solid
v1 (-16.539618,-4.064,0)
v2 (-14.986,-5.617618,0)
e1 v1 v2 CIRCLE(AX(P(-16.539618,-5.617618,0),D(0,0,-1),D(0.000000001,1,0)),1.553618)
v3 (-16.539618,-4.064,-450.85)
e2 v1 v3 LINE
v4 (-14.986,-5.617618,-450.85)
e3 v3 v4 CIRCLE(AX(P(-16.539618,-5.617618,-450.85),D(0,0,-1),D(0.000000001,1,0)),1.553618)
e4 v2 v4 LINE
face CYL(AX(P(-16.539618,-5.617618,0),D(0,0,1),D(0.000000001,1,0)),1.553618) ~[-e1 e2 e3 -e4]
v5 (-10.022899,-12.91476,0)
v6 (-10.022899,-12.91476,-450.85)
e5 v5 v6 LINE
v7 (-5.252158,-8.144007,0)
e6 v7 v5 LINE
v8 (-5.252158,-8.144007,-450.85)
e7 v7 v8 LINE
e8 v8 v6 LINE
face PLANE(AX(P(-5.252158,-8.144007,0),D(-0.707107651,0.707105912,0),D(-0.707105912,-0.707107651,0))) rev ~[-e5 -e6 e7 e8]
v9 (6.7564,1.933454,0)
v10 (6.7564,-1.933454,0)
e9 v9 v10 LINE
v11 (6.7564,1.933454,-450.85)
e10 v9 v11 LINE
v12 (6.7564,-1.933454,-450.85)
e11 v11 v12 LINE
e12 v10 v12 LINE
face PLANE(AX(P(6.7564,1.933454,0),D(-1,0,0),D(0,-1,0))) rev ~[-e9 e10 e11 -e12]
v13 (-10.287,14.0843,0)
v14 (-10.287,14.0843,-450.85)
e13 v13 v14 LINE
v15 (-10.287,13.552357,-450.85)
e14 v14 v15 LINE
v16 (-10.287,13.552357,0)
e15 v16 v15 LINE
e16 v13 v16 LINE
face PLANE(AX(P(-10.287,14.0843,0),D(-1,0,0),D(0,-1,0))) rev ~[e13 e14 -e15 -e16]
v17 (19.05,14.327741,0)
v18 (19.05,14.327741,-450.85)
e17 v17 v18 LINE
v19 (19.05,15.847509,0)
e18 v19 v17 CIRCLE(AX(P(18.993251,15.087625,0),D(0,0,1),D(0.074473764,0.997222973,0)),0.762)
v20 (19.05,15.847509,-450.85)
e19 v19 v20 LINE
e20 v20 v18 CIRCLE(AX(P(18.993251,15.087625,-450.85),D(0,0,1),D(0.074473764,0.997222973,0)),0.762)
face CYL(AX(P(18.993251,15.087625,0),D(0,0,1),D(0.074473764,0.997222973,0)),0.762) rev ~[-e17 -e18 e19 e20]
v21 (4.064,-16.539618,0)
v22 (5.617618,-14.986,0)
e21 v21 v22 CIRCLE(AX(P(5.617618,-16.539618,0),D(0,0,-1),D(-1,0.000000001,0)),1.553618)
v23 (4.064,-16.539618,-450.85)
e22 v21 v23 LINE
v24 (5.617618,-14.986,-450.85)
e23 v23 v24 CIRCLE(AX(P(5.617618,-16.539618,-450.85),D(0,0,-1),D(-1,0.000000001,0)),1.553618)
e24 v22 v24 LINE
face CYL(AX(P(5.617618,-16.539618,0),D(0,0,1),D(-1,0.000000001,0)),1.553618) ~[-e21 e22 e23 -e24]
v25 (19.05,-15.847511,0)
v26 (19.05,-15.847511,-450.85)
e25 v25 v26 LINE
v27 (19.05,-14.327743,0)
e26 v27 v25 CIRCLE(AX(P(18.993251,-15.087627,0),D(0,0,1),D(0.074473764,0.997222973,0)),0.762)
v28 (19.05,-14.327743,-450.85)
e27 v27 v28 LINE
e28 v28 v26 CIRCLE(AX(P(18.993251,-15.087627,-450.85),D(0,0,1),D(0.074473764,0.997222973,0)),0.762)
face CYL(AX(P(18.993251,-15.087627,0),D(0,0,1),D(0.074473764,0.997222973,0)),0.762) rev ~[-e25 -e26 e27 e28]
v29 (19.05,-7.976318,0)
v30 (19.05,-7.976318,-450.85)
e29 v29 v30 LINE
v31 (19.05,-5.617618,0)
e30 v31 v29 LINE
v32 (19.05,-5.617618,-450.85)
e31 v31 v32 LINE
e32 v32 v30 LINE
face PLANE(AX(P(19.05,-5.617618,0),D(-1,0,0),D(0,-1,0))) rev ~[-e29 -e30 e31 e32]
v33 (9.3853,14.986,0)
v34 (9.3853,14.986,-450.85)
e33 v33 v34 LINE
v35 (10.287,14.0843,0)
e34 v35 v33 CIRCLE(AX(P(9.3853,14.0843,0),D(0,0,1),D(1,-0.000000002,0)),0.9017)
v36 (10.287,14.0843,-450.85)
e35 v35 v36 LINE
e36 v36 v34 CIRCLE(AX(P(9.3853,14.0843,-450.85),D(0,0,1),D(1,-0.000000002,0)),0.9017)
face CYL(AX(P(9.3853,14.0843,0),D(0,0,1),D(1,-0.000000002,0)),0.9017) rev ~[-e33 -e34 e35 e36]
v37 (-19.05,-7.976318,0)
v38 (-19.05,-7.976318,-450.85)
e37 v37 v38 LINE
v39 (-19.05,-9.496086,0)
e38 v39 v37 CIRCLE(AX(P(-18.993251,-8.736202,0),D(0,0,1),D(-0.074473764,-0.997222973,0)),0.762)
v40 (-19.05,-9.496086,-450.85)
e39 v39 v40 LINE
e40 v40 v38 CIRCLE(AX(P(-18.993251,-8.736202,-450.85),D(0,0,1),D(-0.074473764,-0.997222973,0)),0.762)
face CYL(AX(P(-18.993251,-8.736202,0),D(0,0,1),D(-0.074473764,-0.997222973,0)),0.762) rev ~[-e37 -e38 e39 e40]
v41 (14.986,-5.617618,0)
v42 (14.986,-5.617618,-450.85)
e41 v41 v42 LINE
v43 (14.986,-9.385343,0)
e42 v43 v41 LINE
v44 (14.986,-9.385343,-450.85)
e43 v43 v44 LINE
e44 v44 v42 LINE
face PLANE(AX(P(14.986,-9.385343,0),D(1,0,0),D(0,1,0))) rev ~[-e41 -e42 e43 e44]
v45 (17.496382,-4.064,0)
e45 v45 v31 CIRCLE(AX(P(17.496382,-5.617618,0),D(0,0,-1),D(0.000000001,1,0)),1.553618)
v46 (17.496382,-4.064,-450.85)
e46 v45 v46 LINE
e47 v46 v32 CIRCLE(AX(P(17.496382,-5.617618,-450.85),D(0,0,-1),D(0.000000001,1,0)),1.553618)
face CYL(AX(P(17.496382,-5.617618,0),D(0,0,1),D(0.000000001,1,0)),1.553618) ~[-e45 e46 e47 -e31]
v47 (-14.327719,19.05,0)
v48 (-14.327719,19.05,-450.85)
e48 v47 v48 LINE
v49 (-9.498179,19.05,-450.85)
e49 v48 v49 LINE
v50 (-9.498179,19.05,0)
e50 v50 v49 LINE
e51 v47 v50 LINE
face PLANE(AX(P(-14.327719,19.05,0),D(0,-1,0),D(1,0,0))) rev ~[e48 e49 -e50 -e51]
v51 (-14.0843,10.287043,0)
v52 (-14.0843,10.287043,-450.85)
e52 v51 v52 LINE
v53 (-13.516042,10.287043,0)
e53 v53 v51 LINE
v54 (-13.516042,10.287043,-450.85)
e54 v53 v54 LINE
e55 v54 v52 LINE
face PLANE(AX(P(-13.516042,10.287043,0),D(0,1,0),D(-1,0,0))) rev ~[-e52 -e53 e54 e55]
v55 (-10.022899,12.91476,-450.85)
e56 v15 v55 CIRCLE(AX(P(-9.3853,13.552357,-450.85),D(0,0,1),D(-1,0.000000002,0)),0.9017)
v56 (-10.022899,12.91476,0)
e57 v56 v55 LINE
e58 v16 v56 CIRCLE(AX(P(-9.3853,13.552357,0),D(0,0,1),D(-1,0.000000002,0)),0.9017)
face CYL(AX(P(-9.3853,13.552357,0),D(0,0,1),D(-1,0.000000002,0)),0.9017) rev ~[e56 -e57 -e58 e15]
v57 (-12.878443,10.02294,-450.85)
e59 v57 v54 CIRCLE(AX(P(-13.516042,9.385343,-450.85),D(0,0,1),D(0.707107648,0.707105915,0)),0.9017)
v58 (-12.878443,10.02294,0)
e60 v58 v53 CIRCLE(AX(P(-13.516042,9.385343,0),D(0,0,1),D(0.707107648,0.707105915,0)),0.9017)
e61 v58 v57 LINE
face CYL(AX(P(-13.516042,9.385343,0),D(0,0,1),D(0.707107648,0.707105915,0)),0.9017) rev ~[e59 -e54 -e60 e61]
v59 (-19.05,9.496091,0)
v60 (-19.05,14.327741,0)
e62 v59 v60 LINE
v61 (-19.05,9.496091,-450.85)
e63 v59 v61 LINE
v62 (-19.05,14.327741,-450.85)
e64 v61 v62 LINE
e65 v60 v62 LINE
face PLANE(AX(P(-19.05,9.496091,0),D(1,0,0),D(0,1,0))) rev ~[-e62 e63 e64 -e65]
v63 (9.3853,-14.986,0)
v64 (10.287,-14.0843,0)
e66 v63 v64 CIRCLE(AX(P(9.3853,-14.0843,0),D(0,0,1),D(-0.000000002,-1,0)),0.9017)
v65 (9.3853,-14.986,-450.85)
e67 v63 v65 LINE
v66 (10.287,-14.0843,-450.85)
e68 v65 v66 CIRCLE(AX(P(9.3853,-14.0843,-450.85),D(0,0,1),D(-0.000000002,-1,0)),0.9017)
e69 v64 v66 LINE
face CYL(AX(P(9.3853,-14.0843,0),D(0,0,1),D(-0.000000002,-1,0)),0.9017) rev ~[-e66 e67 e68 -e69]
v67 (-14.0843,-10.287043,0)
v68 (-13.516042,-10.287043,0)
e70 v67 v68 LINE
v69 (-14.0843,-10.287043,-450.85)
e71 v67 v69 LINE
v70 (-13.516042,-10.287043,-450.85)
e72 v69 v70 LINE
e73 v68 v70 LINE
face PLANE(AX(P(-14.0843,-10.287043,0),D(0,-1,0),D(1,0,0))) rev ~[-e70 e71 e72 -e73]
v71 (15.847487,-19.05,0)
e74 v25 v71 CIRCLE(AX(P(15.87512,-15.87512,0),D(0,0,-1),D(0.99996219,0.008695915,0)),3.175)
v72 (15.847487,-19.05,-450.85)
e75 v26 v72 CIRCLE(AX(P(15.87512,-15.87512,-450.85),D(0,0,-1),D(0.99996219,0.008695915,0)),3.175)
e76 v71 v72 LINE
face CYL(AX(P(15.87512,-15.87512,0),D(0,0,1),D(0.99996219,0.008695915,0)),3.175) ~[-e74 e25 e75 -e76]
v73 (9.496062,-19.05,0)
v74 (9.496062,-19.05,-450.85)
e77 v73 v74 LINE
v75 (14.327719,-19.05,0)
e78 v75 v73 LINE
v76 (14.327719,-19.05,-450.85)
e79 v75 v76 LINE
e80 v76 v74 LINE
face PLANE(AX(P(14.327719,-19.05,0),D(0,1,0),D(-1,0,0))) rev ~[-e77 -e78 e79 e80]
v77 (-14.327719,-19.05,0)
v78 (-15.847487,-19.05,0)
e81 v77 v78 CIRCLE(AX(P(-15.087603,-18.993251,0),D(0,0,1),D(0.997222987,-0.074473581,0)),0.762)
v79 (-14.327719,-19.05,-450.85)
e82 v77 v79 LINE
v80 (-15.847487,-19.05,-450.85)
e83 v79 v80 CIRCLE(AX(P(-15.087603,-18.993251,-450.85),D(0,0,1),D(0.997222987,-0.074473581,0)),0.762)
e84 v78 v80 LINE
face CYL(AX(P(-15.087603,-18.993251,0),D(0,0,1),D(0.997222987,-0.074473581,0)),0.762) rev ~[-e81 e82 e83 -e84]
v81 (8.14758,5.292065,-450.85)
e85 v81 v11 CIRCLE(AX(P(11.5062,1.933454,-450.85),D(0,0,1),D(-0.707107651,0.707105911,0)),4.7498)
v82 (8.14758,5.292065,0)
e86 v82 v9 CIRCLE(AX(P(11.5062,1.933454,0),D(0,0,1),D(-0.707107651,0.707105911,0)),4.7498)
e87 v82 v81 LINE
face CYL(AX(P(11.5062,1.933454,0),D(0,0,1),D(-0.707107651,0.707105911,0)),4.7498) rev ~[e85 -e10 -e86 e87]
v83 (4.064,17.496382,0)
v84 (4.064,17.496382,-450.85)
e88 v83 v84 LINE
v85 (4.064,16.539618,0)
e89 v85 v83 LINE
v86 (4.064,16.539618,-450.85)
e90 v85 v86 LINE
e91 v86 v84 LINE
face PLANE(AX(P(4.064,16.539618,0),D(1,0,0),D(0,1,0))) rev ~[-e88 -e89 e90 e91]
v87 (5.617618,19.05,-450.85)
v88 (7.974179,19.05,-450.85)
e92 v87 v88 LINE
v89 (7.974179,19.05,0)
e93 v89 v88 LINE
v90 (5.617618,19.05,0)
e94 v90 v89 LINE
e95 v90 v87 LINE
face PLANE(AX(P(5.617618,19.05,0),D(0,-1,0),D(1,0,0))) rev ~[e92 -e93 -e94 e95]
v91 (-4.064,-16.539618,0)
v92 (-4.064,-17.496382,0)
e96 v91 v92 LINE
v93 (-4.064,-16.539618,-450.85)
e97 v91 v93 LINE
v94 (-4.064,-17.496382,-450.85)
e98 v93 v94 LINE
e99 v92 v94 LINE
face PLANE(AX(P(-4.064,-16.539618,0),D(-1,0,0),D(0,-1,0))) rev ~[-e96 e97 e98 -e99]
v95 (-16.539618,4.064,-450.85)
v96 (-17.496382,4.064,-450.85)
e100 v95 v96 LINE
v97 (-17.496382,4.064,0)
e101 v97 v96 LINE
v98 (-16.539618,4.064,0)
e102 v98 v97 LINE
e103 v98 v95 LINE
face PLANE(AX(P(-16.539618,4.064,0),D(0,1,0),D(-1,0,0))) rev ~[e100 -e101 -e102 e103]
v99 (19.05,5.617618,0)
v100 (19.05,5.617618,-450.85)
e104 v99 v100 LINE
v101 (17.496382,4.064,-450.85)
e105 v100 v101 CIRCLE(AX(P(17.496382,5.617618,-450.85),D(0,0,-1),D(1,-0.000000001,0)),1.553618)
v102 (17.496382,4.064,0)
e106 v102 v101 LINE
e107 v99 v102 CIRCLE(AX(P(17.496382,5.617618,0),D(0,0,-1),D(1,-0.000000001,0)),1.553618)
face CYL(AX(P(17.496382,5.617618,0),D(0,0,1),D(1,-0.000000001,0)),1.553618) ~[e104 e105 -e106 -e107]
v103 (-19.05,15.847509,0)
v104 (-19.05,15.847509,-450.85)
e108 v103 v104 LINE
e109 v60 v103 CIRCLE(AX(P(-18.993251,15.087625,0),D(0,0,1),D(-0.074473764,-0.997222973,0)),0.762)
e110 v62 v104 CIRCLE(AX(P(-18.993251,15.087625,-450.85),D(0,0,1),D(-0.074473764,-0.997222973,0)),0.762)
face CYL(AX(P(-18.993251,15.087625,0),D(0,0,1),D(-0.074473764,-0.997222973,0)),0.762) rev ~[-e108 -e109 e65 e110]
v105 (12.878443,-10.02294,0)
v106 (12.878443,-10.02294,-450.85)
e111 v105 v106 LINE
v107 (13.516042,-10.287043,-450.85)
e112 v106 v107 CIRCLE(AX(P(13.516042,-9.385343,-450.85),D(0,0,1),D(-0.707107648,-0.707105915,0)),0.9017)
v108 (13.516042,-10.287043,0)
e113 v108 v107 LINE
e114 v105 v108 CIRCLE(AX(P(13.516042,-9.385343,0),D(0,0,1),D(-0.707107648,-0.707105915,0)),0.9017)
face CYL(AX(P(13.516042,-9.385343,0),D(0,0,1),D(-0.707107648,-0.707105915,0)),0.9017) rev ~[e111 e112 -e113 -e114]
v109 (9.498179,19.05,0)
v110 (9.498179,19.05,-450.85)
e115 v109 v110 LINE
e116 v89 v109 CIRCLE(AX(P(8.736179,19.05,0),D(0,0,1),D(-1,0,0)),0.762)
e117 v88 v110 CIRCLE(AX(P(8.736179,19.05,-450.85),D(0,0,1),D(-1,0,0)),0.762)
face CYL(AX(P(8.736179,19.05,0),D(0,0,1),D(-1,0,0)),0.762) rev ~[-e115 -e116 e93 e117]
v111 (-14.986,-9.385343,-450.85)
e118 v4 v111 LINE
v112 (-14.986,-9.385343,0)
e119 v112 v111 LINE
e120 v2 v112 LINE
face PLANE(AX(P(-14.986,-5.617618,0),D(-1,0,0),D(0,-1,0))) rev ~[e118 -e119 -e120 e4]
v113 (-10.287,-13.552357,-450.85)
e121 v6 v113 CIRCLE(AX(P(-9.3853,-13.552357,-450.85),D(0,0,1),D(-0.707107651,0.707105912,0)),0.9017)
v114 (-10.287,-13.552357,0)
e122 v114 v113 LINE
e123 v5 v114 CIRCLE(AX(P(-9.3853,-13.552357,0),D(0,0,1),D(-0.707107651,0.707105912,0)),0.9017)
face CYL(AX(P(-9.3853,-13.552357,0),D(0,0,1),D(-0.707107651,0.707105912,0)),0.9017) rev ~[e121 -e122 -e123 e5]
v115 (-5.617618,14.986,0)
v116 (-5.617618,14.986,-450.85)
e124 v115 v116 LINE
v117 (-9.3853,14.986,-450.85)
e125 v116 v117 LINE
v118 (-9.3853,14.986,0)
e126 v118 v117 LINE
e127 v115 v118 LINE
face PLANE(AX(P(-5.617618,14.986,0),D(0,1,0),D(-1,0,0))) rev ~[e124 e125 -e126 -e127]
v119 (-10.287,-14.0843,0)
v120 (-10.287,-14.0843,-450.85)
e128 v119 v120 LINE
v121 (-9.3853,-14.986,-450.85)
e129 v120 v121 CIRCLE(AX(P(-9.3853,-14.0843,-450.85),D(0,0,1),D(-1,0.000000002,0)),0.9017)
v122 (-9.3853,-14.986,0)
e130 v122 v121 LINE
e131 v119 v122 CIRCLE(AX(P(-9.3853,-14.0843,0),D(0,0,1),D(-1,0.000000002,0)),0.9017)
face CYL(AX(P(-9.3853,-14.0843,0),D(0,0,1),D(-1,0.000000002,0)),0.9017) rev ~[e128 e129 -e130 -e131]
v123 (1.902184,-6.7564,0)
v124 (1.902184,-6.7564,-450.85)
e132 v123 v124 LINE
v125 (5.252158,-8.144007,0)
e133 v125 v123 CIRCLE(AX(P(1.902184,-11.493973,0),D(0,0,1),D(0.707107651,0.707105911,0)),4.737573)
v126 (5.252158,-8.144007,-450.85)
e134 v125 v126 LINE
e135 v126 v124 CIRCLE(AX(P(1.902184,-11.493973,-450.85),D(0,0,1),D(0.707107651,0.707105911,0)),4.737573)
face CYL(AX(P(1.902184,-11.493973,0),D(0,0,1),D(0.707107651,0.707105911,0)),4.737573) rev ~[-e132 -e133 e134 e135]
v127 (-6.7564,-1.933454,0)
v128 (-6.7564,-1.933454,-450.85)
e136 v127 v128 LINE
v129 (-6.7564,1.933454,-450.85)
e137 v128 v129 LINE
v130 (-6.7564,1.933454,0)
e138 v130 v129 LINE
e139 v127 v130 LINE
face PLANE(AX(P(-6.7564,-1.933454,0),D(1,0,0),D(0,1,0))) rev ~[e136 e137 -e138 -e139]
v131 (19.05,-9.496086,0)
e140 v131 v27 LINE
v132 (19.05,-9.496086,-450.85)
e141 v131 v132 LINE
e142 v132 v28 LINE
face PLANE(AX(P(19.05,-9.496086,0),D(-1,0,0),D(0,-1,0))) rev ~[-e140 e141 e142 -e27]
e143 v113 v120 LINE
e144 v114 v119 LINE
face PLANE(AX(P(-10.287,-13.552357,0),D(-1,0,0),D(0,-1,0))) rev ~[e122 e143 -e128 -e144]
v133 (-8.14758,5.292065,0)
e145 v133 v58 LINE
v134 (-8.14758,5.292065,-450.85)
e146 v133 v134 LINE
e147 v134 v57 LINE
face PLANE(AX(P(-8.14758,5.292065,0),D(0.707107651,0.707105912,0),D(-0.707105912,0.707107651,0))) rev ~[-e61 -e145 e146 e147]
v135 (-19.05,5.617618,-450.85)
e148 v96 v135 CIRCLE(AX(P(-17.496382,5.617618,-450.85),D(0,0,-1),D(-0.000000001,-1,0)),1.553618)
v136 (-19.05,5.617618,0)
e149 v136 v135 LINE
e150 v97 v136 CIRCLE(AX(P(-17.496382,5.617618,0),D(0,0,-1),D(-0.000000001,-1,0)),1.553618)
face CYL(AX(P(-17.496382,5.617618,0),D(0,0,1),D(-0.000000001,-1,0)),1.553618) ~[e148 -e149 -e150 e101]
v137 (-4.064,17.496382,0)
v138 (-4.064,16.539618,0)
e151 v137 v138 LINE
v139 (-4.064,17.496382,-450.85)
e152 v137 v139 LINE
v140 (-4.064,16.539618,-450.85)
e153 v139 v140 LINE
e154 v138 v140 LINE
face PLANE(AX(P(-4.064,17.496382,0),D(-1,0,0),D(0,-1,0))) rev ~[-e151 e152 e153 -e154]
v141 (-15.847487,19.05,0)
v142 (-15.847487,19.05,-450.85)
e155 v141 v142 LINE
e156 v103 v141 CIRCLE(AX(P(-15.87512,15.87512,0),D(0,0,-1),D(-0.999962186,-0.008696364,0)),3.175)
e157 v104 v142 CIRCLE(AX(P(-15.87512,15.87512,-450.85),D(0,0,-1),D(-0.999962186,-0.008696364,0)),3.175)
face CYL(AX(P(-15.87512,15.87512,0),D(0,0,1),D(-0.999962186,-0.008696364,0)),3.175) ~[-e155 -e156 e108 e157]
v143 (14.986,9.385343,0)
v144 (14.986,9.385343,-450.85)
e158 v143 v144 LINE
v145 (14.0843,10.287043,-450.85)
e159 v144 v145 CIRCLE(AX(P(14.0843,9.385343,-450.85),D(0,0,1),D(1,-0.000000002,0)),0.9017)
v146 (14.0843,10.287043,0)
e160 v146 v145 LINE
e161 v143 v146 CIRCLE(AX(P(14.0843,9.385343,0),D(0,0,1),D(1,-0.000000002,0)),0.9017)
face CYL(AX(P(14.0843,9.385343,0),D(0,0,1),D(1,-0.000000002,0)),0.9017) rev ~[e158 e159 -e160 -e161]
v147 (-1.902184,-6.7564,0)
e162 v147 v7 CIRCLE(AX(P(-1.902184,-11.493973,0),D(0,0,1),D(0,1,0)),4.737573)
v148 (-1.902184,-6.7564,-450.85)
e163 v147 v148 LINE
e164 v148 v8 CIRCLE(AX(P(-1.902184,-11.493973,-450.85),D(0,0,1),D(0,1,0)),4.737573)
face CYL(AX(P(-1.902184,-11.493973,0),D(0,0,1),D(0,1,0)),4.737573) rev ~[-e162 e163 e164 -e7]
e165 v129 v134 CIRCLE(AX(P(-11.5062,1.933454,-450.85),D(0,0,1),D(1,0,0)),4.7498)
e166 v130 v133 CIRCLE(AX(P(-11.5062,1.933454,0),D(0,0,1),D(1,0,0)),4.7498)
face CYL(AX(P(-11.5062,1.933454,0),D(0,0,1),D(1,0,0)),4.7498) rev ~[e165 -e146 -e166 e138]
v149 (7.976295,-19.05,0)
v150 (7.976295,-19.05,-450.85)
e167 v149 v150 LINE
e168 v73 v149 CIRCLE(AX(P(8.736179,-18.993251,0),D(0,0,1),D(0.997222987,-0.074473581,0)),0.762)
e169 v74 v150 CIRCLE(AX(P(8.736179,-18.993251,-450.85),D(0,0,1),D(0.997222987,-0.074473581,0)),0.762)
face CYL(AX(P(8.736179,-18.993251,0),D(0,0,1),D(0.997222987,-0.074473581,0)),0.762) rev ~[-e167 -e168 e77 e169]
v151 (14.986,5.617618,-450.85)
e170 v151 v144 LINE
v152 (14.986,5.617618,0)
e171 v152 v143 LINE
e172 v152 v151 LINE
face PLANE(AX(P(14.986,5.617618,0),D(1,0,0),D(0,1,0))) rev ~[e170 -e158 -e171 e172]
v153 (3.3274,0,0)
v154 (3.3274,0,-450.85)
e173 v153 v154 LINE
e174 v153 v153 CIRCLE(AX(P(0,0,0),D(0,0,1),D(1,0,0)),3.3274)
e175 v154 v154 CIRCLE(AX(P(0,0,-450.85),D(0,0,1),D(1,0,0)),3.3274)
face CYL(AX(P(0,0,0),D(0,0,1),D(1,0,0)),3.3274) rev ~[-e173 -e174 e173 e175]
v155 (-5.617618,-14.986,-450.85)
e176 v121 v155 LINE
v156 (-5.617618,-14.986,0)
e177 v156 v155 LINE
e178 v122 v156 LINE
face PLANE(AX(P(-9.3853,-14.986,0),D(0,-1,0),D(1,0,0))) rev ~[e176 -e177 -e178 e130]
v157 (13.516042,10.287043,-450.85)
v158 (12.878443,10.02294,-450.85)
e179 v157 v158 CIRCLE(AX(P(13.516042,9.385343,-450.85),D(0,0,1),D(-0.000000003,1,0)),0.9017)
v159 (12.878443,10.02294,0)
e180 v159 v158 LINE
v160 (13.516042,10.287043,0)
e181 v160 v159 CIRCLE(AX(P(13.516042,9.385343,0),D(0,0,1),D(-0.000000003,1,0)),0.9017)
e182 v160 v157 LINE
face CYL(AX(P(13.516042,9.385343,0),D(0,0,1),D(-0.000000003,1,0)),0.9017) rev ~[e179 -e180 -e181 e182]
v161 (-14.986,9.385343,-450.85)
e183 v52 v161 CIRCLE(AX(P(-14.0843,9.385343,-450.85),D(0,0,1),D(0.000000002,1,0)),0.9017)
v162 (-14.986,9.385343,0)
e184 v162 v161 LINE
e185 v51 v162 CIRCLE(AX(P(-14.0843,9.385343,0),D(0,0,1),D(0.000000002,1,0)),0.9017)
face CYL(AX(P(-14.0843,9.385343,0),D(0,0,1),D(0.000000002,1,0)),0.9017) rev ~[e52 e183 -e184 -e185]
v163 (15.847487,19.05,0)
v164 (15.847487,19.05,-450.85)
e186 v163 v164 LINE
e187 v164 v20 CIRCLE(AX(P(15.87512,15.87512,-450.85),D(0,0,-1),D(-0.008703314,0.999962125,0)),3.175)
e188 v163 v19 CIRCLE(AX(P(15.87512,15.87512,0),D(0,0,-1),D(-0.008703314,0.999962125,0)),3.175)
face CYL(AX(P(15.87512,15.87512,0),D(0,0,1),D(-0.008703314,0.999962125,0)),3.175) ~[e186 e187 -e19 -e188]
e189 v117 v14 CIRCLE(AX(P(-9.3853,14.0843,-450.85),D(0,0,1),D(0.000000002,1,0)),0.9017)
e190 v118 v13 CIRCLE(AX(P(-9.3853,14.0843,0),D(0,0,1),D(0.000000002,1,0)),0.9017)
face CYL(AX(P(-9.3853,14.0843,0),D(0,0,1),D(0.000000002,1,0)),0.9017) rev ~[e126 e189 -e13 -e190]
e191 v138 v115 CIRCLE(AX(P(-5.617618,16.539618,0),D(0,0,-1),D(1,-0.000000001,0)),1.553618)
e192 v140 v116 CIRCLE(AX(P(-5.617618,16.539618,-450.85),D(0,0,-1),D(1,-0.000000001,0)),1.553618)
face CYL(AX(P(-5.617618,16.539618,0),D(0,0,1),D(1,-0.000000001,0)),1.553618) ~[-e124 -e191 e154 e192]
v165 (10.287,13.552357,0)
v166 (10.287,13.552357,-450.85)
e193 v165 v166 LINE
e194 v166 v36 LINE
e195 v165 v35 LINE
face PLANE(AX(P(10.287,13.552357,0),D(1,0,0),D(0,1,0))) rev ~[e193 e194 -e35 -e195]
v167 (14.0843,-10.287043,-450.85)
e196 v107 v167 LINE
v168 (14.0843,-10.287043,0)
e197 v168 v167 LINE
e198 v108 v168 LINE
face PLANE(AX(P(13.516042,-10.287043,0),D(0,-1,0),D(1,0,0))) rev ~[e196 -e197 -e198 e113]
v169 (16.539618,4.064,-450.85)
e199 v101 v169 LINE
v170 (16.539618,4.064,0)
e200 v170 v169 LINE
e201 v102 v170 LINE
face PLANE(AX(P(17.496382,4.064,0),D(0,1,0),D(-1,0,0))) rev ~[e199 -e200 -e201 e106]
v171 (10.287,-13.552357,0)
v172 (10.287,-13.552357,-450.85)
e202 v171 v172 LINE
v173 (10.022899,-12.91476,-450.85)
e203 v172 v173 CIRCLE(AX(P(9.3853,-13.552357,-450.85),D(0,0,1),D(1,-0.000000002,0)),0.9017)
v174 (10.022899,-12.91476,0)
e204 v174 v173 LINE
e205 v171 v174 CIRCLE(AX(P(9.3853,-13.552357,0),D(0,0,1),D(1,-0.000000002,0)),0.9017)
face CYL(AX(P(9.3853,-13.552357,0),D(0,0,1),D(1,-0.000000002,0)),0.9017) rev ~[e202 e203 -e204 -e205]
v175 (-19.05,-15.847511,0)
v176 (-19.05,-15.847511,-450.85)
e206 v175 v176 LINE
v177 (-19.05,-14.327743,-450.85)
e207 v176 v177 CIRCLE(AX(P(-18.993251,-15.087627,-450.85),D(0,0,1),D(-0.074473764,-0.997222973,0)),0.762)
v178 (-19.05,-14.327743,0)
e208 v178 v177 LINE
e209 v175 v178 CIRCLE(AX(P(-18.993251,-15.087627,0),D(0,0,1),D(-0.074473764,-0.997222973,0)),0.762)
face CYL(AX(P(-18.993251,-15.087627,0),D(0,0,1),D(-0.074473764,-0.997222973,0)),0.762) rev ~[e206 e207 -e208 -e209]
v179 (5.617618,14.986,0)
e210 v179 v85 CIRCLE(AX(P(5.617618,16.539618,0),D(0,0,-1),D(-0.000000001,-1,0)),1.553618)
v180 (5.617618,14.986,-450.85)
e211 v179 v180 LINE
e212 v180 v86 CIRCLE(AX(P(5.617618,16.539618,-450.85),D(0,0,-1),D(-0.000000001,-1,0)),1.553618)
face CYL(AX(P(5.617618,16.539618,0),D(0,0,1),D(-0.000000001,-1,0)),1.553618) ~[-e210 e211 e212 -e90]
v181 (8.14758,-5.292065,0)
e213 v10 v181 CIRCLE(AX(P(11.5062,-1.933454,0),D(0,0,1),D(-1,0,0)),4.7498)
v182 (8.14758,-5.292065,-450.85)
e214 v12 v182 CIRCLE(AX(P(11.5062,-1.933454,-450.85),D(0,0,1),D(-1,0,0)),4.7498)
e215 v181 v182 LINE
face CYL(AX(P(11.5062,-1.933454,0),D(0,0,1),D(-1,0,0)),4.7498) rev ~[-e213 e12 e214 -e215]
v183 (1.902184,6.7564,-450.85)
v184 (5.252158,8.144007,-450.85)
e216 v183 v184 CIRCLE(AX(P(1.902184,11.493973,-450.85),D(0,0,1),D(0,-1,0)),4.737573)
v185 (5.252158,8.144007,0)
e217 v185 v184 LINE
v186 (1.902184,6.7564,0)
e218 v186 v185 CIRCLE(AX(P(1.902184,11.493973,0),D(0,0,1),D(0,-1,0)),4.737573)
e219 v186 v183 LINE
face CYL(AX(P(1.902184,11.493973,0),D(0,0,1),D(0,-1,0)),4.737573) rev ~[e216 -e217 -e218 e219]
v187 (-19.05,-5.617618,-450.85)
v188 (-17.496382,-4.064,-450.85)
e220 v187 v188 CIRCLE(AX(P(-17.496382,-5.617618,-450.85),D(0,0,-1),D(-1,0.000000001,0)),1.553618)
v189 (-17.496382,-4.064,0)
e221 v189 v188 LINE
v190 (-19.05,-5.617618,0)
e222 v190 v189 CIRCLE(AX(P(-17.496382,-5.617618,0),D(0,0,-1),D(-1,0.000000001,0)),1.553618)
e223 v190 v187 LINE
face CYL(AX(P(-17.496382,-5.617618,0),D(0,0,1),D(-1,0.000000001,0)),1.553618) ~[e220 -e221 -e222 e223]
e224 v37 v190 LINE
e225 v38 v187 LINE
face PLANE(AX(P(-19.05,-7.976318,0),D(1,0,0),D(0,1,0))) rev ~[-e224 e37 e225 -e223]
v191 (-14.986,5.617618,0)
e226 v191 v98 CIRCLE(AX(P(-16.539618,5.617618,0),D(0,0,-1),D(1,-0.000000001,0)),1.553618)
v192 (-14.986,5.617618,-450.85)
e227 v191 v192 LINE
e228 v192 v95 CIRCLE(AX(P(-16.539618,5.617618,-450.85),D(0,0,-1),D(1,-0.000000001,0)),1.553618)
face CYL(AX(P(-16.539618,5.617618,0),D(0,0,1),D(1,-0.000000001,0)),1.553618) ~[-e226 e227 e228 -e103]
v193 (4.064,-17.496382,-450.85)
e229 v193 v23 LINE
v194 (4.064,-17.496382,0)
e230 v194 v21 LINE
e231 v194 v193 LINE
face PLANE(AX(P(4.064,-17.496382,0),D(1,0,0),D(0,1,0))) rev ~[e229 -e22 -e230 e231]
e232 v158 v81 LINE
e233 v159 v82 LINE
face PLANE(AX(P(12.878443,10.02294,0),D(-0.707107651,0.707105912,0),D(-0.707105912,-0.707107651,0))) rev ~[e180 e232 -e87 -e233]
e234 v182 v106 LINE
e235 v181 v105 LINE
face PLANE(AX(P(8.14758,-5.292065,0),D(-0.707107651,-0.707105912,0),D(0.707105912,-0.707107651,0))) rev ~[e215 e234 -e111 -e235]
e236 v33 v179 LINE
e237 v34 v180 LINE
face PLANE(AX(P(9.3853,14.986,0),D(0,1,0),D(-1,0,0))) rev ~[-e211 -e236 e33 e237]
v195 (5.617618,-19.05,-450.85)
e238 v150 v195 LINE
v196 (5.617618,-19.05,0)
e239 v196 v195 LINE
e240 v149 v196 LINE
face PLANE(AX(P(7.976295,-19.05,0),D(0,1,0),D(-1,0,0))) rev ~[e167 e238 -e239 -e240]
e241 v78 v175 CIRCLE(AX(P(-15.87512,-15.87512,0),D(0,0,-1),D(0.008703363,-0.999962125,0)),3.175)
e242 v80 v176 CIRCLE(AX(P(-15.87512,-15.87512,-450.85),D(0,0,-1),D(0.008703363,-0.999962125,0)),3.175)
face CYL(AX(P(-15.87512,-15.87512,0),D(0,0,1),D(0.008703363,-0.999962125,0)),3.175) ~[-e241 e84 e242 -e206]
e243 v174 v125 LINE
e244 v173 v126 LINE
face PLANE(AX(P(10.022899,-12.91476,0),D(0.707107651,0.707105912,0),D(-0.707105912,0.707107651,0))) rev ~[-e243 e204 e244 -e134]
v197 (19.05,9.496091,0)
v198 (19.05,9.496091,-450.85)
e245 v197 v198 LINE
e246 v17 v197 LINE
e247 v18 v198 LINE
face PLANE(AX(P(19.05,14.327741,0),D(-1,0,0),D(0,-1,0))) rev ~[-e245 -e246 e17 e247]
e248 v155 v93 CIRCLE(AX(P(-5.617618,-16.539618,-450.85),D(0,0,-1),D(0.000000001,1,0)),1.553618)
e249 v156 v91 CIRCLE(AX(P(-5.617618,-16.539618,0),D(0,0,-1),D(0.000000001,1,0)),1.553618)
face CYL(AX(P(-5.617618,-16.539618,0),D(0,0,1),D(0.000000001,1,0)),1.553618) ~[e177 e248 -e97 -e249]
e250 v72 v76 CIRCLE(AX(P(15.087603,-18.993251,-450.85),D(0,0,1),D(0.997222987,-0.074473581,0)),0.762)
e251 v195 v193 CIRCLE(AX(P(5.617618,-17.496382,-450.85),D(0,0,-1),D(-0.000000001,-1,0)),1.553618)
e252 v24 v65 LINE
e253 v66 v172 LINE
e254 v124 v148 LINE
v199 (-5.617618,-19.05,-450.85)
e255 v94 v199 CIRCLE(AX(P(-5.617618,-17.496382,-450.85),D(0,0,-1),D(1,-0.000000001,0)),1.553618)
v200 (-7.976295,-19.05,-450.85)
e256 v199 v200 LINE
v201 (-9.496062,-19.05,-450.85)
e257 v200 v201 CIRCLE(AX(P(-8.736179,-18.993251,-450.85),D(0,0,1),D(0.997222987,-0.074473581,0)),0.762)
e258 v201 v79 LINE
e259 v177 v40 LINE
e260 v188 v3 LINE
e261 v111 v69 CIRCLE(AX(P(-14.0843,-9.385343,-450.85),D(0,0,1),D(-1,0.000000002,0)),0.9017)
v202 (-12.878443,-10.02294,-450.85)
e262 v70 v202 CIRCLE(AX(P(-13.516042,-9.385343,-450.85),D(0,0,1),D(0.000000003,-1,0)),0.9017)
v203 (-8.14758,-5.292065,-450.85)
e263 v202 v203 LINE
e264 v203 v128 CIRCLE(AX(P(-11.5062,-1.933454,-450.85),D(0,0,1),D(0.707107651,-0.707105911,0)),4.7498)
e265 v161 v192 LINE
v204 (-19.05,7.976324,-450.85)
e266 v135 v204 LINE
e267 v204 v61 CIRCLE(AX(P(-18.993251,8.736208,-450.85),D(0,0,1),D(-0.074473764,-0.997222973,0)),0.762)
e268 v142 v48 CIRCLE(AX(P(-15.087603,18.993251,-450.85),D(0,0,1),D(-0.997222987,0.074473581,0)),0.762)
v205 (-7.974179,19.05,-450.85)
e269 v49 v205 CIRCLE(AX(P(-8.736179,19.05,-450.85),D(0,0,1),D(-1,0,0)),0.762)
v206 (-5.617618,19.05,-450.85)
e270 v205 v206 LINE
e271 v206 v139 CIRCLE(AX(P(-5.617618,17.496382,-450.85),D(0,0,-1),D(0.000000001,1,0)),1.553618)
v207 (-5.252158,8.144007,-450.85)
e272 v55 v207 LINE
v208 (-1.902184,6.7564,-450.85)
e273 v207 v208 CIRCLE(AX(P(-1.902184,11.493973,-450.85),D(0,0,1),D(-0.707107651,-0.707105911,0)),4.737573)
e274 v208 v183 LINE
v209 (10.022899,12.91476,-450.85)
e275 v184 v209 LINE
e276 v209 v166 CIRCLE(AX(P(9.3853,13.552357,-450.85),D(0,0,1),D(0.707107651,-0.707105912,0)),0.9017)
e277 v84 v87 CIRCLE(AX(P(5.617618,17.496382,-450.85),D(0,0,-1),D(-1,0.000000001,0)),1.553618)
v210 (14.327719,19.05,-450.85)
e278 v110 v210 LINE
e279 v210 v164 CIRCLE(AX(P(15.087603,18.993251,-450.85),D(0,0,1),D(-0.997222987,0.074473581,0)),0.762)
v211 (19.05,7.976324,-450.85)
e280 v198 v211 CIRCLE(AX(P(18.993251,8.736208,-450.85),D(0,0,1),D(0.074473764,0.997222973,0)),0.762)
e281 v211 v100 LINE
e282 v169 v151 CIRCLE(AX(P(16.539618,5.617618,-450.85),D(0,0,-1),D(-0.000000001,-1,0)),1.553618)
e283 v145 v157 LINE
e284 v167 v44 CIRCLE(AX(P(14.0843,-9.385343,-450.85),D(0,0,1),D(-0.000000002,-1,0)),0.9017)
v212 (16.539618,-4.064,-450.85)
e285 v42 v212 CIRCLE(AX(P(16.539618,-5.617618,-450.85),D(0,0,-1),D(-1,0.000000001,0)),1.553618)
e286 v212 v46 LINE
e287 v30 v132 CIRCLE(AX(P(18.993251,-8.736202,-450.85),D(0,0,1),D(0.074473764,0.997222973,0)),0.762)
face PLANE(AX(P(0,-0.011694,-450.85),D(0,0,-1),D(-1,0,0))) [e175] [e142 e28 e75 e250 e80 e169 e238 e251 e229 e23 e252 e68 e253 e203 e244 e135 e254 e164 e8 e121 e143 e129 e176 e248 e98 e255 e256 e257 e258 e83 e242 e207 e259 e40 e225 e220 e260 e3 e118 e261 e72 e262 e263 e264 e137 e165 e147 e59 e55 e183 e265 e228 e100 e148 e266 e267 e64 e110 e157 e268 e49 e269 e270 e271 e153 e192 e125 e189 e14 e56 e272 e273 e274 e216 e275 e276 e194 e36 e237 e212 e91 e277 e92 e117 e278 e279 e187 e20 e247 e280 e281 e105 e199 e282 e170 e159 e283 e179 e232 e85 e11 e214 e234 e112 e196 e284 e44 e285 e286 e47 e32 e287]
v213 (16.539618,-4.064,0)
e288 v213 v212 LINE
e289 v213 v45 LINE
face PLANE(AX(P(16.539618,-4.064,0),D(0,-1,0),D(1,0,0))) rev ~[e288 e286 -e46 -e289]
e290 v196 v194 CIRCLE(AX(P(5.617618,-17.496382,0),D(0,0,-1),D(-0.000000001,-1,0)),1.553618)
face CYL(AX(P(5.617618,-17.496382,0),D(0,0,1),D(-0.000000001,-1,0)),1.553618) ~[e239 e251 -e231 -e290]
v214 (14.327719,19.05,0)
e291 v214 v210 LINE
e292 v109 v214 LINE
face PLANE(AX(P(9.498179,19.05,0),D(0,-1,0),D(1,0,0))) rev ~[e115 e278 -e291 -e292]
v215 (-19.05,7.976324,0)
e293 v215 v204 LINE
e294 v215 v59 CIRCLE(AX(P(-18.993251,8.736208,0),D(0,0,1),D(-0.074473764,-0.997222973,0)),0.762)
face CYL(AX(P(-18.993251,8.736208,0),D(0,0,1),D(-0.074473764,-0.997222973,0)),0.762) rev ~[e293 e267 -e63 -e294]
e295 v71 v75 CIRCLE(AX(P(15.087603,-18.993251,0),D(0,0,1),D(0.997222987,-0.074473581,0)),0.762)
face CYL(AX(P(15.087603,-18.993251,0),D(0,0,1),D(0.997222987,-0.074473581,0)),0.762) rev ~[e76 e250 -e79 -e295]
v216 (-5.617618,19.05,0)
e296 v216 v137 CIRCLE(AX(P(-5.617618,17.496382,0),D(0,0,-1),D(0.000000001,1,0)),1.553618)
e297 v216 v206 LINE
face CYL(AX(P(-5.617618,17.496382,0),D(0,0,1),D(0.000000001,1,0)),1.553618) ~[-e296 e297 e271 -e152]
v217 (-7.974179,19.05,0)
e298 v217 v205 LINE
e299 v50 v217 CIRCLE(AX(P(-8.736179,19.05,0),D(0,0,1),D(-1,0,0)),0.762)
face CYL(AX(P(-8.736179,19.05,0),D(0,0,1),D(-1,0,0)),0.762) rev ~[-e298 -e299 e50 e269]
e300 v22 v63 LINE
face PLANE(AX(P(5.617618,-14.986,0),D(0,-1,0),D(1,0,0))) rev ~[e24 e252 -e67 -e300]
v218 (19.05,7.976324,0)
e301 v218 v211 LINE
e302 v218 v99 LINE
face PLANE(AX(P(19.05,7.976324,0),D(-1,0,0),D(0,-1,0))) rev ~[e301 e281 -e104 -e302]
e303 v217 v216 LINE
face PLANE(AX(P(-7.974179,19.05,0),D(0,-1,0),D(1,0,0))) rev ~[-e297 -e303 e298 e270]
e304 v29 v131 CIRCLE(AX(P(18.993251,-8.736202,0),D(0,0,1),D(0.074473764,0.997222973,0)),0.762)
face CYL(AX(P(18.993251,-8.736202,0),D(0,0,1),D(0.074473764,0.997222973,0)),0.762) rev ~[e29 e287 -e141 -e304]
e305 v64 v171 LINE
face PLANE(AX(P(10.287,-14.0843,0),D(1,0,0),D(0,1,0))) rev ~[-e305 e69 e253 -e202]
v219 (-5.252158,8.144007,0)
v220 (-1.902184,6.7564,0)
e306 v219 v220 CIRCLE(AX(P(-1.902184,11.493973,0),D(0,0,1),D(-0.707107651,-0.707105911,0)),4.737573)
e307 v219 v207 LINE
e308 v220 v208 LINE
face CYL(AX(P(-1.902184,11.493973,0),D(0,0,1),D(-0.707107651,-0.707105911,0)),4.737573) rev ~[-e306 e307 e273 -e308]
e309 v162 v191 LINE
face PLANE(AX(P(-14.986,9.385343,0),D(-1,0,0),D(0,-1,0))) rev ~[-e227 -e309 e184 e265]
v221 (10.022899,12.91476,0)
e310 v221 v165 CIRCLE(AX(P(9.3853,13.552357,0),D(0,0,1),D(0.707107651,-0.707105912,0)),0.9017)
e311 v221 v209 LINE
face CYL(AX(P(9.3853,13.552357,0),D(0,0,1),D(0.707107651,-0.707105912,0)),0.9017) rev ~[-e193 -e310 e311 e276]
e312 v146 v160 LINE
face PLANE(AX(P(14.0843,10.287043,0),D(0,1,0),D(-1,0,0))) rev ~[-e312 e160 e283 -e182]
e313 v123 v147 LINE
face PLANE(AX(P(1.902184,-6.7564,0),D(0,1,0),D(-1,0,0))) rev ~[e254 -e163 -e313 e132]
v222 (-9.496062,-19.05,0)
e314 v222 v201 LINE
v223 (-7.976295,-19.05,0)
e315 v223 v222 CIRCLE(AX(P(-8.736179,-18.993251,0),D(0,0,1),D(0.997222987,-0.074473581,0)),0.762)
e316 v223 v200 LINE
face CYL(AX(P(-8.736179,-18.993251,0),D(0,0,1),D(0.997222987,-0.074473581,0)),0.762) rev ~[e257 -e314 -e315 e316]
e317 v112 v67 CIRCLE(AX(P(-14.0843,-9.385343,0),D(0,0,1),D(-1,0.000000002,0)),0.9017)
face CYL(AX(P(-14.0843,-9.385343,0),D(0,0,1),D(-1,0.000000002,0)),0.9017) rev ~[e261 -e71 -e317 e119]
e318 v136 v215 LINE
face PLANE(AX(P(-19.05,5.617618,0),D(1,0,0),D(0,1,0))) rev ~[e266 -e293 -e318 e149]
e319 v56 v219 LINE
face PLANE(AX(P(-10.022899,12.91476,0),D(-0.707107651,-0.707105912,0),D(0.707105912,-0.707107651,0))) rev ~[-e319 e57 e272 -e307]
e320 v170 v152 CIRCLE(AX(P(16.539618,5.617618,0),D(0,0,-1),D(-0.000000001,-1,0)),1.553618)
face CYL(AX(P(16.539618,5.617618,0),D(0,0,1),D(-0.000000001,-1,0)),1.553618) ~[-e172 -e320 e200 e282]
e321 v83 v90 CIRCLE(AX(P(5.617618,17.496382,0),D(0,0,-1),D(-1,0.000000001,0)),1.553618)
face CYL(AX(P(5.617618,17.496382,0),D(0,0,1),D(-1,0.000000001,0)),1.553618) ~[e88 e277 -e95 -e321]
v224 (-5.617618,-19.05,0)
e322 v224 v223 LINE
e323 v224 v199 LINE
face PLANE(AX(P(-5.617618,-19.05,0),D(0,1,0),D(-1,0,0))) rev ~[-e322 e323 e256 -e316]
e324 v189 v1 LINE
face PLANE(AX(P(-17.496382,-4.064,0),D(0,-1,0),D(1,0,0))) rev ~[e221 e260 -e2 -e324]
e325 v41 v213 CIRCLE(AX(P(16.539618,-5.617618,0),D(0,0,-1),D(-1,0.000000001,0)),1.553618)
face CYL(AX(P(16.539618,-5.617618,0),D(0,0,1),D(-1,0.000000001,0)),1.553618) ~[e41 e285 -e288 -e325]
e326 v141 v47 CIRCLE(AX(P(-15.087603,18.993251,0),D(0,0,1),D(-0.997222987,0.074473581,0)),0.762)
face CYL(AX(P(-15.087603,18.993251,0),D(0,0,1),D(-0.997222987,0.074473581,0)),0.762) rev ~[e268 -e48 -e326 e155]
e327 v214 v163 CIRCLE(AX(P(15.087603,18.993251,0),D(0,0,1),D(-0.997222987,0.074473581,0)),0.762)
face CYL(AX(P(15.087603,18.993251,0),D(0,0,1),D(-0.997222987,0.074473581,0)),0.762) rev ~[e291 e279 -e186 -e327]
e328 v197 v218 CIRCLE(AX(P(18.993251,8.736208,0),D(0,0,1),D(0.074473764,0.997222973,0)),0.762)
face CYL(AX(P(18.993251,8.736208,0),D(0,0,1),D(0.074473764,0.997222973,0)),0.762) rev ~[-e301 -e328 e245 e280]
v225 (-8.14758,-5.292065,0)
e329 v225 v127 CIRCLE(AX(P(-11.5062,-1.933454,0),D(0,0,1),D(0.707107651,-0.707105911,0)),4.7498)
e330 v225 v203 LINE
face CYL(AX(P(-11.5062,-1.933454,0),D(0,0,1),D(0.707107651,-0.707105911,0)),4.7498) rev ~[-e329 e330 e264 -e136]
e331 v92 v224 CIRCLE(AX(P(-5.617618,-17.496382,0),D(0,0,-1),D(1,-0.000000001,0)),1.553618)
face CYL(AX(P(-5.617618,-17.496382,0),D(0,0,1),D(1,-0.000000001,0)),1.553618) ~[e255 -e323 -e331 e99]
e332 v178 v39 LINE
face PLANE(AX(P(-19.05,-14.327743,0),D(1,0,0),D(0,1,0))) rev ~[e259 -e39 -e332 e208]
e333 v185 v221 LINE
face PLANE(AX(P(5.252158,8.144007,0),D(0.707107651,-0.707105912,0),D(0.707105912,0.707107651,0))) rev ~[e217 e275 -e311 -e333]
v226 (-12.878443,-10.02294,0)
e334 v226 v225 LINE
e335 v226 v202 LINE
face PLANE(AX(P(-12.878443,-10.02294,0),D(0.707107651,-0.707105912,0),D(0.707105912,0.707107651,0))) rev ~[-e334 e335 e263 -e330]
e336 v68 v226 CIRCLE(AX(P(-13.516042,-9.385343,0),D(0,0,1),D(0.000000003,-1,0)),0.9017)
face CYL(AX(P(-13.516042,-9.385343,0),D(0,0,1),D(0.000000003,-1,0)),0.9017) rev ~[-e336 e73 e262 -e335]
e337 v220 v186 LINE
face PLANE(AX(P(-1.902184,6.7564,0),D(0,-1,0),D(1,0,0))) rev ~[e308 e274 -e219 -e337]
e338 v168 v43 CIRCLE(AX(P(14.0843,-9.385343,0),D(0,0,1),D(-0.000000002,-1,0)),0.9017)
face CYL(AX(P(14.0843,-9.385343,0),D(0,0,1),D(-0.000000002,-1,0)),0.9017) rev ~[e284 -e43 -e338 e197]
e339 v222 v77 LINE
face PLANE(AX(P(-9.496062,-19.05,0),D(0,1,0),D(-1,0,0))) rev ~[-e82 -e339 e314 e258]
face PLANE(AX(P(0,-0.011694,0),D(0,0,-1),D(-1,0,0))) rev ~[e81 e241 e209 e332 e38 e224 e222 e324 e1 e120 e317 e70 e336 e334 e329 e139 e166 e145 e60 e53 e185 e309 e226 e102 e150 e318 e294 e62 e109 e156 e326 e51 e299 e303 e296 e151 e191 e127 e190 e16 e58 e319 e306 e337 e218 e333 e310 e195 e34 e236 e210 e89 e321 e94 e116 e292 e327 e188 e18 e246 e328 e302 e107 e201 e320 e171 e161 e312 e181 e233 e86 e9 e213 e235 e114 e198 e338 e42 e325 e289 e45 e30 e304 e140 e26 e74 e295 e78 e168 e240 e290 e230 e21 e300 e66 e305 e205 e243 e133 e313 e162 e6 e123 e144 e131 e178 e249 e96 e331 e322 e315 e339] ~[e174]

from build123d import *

# Parameters (mm, degrees)
SKETCH1_R      = 3.3274
EXTRUDE1_DEPTH = 450.85


with BuildPart() as part:
    # Sketch1 → Extrude1 (new body)
    with BuildSketch(Plane.XY):
        with BuildLine():
            Line((-10.022898969, 12.91475973), (-5.252158105, 8.144007132))
            ThreePointArc((-5.252158105, 8.144007132), (-3.715177372, 7.117027388), (-1.902183975, 6.7564))
            Line((-1.902183975, 6.7564), (1.902183975, 6.7564))
            ThreePointArc((1.902183975, 6.7564), (3.715177372, 7.117027388), (5.252158105, 8.144007132))
            Line((5.252158105, 8.144007132), (10.022898969, 12.91475973))
            ThreePointArc((10.022898969, 12.91475973), (10.218362387, 13.207291992), (10.287, 13.552357131))
            Line((10.287, 13.552357131), (10.287, 14.0843))
            ThreePointArc((10.287, 14.0843), (10.022898185, 14.721898185), (9.3853, 14.986))
            Line((9.3853, 14.986), (5.617617549, 14.986))
            ThreePointArc((5.617617549, 14.986), (4.519044045, 15.441044045), (4.064, 16.539617549))
            Line((4.064, 16.539617549), (4.064, 17.496382451))
            ThreePointArc((4.064, 17.496382451), (4.519044045, 18.594955955), (5.617617549, 19.05))
            Line((5.617617549, 19.05), (7.974178704, 19.05))
            ThreePointArc((7.974178704, 19.05), (8.736178704, 18.288), (9.498178704, 19.05))
            Line((9.498178704, 19.05), (14.327719207, 19.05))
            ThreePointArc((14.327719207, 19.05), (15.087603123, 18.231251131), (15.847487039, 19.05))
            ThreePointArc((15.847487039, 19.05), (18.120176289, 18.120192083), (19.05, 15.847509295))
            ThreePointArc((19.05, 15.847509295), (18.231250992, 15.08762539), (19.05, 14.327741484))
            Line((19.05, 14.327741484), (19.05, 9.496091471))
            ThreePointArc((19.05, 9.496091471), (18.231250992, 8.736207565), (19.05, 7.97632366))
            Line((19.05, 7.97632366), (19.05, 5.617617549))
            ThreePointArc((19.05, 5.617617549), (18.594955955, 4.519044045), (17.496382451, 4.064))
            Line((17.496382451, 4.064), (16.539617549, 4.064))
            ThreePointArc((16.539617549, 4.064), (15.441044045, 4.519044045), (14.986, 5.617617549))
            Line((14.986, 5.617617549), (14.986, 9.385342516))
            ThreePointArc((14.986, 9.385342516), (14.721898185, 10.022940701), (14.0843, 10.287042516))
            Line((14.0843, 10.287042516), (13.516042086, 10.287042516))
            ThreePointArc((13.516042086, 10.287042516), (13.170975923, 10.218404478), (12.878443117, 10.022939917))
            Line((12.878443117, 10.022939917), (8.14758008, 5.292065243))
            ThreePointArc((8.14758008, 5.292065243), (7.117955879, 3.751120653), (6.7564, 1.933453584))
            Line((6.7564, 1.933453584), (6.7564, -1.933453584))
            ThreePointArc((6.7564, -1.933453584), (7.117955879, -3.751120653), (8.14758008, -5.292065243))
            Line((8.14758008, -5.292065243), (12.878443117, -10.022939917))
            ThreePointArc((12.878443117, -10.022939917), (13.170975923, -10.218404478), (13.516042086, -10.287042516))
            Line((13.516042086, -10.287042516), (14.0843, -10.287042516))
            ThreePointArc((14.0843, -10.287042516), (14.721898185, -10.022940701), (14.986, -9.385342516))
            Line((14.986, -9.385342516), (14.986, -5.617617549))
            ThreePointArc((14.986, -5.617617549), (15.441044045, -4.519044045), (16.539617549, -4.064))
            Line((16.539617549, -4.064), (17.496382451, -4.064))
            ThreePointArc((17.496382451, -4.064), (18.594955955, -4.519044045), (19.05, -5.617617549))
            Line((19.05, -5.617617549), (19.05, -7.976318491))
            ThreePointArc((19.05, -7.976318491), (18.231250992, -8.736202396), (19.05, -9.496086302))
            Line((19.05, -9.496086302), (19.05, -14.32774291))
            ThreePointArc((19.05, -14.32774291), (18.231250992, -15.087626816), (19.05, -15.847510721))
            ThreePointArc((19.05, -15.847510721), (18.120175716, -18.120192644), (15.847486868, -19.05))
            ThreePointArc((15.847486868, -19.05), (15.087602952, -18.231251131), (14.327719036, -19.05))
            Line((14.327719036, -19.05), (9.496062448, -19.05))
            ThreePointArc((9.496062448, -19.05), (8.736178532, -18.231251131), (7.976294616, -19.05))
            Line((7.976294616, -19.05), (5.617617549, -19.05))
            ThreePointArc((5.617617549, -19.05), (4.519044045, -18.594955955), (4.064, -17.496382451))
            Line((4.064, -17.496382451), (4.064, -16.539617549))
            ThreePointArc((4.064, -16.539617549), (4.519044045, -15.441044045), (5.617617549, -14.986))
            Line((5.617617549, -14.986), (9.3853, -14.986))
            ThreePointArc((9.3853, -14.986), (10.022898185, -14.721898185), (10.287, -14.0843))
            Line((10.287, -14.0843), (10.287, -13.552357131))
            ThreePointArc((10.287, -13.552357131), (10.218362387, -13.207291992), (10.022898969, -12.91475973))
            Line((10.022898969, -12.91475973), (5.252158105, -8.144007132))
            ThreePointArc((5.252158105, -8.144007132), (3.715177372, -7.117027388), (1.902183975, -6.7564))
            Line((1.902183975, -6.7564), (-1.902183975, -6.7564))
            ThreePointArc((-1.902183975, -6.7564), (-3.715177372, -7.117027388), (-5.252158105, -8.144007132))
            Line((-5.252158105, -8.144007132), (-10.022898969, -12.91475973))
            ThreePointArc((-10.022898969, -12.91475973), (-10.218362387, -13.207291992), (-10.287, -13.552357131))
            Line((-10.287, -13.552357131), (-10.287, -14.0843))
            ThreePointArc((-10.287, -14.0843), (-10.022898185, -14.721898185), (-9.3853, -14.986))
            Line((-9.3853, -14.986), (-5.617617549, -14.986))
            ThreePointArc((-5.617617549, -14.986), (-4.519044045, -15.441044045), (-4.064, -16.539617549))
            Line((-4.064, -16.539617549), (-4.064, -17.496382451))
            ThreePointArc((-4.064, -17.496382451), (-4.519044045, -18.594955955), (-5.617617549, -19.05))
            Line((-5.617617549, -19.05), (-7.976294616, -19.05))
            ThreePointArc((-7.976294616, -19.05), (-8.736178532, -18.231251131), (-9.496062448, -19.05))
            Line((-9.496062448, -19.05), (-14.327719036, -19.05))
            ThreePointArc((-14.327719036, -19.05), (-15.087602952, -18.231251131), (-15.847486868, -19.05))
            ThreePointArc((-15.847486868, -19.05), (-18.120175716, -18.120192644), (-19.05, -15.847510721))
            ThreePointArc((-19.05, -15.847510721), (-18.231250992, -15.087626816), (-19.05, -14.32774291))
            Line((-19.05, -14.32774291), (-19.05, -9.496086302))
            ThreePointArc((-19.05, -9.496086302), (-18.231250992, -8.736202396), (-19.05, -7.976318491))
            Line((-19.05, -7.976318491), (-19.05, -5.617617549))
            ThreePointArc((-19.05, -5.617617549), (-18.594955955, -4.519044045), (-17.496382451, -4.064))
            Line((-17.496382451, -4.064), (-16.539617549, -4.064))
            ThreePointArc((-16.539617549, -4.064), (-15.441044045, -4.519044045), (-14.986, -5.617617549))
            Line((-14.986, -5.617617549), (-14.986, -9.385342516))
            ThreePointArc((-14.986, -9.385342516), (-14.721898185, -10.022940701), (-14.0843, -10.287042516))
            Line((-14.0843, -10.287042516), (-13.516042086, -10.287042516))
            ThreePointArc((-13.516042086, -10.287042516), (-13.170975923, -10.218404478), (-12.878443117, -10.022939917))
            Line((-12.878443117, -10.022939917), (-8.14758008, -5.292065243))
            ThreePointArc((-8.14758008, -5.292065243), (-7.117955879, -3.751120653), (-6.7564, -1.933453584))
            Line((-6.7564, -1.933453584), (-6.7564, 1.933453584))
            ThreePointArc((-6.7564, 1.933453584), (-7.117955879, 3.751120653), (-8.14758008, 5.292065243))
            Line((-8.14758008, 5.292065243), (-12.878443117, 10.022939917))
            ThreePointArc((-12.878443117, 10.022939917), (-13.170975923, 10.218404478), (-13.516042086, 10.287042516))
            Line((-13.516042086, 10.287042516), (-14.0843, 10.287042516))
            ThreePointArc((-14.0843, 10.287042516), (-14.721898185, 10.022940701), (-14.986, 9.385342516))
            Line((-14.986, 9.385342516), (-14.986, 5.617617549))
            ThreePointArc((-14.986, 5.617617549), (-15.441044045, 4.519044045), (-16.539617549, 4.064))
            Line((-16.539617549, 4.064), (-17.496382451, 4.064))
            ThreePointArc((-17.496382451, 4.064), (-18.594955955, 4.519044045), (-19.05, 5.617617549))
            Line((-19.05, 5.617617549), (-19.05, 7.97632366))
            ThreePointArc((-19.05, 7.97632366), (-18.231250992, 8.736207565), (-19.05, 9.496091471))
            Line((-19.05, 9.496091471), (-19.05, 14.327741484))
            ThreePointArc((-19.05, 14.327741484), (-18.231250992, 15.08762539), (-19.05, 15.847509295))
            ThreePointArc((-19.05, 15.847509295), (-18.120176289, 18.120192083), (-15.847487039, 19.05))
            ThreePointArc((-15.847487039, 19.05), (-15.087603123, 18.231251131), (-14.327719207, 19.05))
            Line((-14.327719207, 19.05), (-9.498178704, 19.05))
            ThreePointArc((-9.498178704, 19.05), (-8.736178704, 18.288), (-7.974178704, 19.05))
            Line((-7.974178704, 19.05), (-5.617617549, 19.05))
            ThreePointArc((-5.617617549, 19.05), (-4.519044045, 18.594955955), (-4.064, 17.496382451))
            Line((-4.064, 17.496382451), (-4.064, 16.539617549))
            ThreePointArc((-4.064, 16.539617549), (-4.519044045, 15.441044045), (-5.617617549, 14.986))
            Line((-5.617617549, 14.986), (-9.3853, 14.986))
            ThreePointArc((-9.3853, 14.986), (-10.022898185, 14.721898185), (-10.287, 14.0843))
            Line((-10.287, 14.0843), (-10.287, 13.552357131))
            ThreePointArc((-10.287, 13.552357131), (-10.218362387, 13.207291992), (-10.022898969, 12.91475973))
        make_face()
        Circle(SKETCH1_R, mode=Mode.SUBTRACT)
    extrude(amount=-EXTRUDE1_DEPTH)


solid = part.part
